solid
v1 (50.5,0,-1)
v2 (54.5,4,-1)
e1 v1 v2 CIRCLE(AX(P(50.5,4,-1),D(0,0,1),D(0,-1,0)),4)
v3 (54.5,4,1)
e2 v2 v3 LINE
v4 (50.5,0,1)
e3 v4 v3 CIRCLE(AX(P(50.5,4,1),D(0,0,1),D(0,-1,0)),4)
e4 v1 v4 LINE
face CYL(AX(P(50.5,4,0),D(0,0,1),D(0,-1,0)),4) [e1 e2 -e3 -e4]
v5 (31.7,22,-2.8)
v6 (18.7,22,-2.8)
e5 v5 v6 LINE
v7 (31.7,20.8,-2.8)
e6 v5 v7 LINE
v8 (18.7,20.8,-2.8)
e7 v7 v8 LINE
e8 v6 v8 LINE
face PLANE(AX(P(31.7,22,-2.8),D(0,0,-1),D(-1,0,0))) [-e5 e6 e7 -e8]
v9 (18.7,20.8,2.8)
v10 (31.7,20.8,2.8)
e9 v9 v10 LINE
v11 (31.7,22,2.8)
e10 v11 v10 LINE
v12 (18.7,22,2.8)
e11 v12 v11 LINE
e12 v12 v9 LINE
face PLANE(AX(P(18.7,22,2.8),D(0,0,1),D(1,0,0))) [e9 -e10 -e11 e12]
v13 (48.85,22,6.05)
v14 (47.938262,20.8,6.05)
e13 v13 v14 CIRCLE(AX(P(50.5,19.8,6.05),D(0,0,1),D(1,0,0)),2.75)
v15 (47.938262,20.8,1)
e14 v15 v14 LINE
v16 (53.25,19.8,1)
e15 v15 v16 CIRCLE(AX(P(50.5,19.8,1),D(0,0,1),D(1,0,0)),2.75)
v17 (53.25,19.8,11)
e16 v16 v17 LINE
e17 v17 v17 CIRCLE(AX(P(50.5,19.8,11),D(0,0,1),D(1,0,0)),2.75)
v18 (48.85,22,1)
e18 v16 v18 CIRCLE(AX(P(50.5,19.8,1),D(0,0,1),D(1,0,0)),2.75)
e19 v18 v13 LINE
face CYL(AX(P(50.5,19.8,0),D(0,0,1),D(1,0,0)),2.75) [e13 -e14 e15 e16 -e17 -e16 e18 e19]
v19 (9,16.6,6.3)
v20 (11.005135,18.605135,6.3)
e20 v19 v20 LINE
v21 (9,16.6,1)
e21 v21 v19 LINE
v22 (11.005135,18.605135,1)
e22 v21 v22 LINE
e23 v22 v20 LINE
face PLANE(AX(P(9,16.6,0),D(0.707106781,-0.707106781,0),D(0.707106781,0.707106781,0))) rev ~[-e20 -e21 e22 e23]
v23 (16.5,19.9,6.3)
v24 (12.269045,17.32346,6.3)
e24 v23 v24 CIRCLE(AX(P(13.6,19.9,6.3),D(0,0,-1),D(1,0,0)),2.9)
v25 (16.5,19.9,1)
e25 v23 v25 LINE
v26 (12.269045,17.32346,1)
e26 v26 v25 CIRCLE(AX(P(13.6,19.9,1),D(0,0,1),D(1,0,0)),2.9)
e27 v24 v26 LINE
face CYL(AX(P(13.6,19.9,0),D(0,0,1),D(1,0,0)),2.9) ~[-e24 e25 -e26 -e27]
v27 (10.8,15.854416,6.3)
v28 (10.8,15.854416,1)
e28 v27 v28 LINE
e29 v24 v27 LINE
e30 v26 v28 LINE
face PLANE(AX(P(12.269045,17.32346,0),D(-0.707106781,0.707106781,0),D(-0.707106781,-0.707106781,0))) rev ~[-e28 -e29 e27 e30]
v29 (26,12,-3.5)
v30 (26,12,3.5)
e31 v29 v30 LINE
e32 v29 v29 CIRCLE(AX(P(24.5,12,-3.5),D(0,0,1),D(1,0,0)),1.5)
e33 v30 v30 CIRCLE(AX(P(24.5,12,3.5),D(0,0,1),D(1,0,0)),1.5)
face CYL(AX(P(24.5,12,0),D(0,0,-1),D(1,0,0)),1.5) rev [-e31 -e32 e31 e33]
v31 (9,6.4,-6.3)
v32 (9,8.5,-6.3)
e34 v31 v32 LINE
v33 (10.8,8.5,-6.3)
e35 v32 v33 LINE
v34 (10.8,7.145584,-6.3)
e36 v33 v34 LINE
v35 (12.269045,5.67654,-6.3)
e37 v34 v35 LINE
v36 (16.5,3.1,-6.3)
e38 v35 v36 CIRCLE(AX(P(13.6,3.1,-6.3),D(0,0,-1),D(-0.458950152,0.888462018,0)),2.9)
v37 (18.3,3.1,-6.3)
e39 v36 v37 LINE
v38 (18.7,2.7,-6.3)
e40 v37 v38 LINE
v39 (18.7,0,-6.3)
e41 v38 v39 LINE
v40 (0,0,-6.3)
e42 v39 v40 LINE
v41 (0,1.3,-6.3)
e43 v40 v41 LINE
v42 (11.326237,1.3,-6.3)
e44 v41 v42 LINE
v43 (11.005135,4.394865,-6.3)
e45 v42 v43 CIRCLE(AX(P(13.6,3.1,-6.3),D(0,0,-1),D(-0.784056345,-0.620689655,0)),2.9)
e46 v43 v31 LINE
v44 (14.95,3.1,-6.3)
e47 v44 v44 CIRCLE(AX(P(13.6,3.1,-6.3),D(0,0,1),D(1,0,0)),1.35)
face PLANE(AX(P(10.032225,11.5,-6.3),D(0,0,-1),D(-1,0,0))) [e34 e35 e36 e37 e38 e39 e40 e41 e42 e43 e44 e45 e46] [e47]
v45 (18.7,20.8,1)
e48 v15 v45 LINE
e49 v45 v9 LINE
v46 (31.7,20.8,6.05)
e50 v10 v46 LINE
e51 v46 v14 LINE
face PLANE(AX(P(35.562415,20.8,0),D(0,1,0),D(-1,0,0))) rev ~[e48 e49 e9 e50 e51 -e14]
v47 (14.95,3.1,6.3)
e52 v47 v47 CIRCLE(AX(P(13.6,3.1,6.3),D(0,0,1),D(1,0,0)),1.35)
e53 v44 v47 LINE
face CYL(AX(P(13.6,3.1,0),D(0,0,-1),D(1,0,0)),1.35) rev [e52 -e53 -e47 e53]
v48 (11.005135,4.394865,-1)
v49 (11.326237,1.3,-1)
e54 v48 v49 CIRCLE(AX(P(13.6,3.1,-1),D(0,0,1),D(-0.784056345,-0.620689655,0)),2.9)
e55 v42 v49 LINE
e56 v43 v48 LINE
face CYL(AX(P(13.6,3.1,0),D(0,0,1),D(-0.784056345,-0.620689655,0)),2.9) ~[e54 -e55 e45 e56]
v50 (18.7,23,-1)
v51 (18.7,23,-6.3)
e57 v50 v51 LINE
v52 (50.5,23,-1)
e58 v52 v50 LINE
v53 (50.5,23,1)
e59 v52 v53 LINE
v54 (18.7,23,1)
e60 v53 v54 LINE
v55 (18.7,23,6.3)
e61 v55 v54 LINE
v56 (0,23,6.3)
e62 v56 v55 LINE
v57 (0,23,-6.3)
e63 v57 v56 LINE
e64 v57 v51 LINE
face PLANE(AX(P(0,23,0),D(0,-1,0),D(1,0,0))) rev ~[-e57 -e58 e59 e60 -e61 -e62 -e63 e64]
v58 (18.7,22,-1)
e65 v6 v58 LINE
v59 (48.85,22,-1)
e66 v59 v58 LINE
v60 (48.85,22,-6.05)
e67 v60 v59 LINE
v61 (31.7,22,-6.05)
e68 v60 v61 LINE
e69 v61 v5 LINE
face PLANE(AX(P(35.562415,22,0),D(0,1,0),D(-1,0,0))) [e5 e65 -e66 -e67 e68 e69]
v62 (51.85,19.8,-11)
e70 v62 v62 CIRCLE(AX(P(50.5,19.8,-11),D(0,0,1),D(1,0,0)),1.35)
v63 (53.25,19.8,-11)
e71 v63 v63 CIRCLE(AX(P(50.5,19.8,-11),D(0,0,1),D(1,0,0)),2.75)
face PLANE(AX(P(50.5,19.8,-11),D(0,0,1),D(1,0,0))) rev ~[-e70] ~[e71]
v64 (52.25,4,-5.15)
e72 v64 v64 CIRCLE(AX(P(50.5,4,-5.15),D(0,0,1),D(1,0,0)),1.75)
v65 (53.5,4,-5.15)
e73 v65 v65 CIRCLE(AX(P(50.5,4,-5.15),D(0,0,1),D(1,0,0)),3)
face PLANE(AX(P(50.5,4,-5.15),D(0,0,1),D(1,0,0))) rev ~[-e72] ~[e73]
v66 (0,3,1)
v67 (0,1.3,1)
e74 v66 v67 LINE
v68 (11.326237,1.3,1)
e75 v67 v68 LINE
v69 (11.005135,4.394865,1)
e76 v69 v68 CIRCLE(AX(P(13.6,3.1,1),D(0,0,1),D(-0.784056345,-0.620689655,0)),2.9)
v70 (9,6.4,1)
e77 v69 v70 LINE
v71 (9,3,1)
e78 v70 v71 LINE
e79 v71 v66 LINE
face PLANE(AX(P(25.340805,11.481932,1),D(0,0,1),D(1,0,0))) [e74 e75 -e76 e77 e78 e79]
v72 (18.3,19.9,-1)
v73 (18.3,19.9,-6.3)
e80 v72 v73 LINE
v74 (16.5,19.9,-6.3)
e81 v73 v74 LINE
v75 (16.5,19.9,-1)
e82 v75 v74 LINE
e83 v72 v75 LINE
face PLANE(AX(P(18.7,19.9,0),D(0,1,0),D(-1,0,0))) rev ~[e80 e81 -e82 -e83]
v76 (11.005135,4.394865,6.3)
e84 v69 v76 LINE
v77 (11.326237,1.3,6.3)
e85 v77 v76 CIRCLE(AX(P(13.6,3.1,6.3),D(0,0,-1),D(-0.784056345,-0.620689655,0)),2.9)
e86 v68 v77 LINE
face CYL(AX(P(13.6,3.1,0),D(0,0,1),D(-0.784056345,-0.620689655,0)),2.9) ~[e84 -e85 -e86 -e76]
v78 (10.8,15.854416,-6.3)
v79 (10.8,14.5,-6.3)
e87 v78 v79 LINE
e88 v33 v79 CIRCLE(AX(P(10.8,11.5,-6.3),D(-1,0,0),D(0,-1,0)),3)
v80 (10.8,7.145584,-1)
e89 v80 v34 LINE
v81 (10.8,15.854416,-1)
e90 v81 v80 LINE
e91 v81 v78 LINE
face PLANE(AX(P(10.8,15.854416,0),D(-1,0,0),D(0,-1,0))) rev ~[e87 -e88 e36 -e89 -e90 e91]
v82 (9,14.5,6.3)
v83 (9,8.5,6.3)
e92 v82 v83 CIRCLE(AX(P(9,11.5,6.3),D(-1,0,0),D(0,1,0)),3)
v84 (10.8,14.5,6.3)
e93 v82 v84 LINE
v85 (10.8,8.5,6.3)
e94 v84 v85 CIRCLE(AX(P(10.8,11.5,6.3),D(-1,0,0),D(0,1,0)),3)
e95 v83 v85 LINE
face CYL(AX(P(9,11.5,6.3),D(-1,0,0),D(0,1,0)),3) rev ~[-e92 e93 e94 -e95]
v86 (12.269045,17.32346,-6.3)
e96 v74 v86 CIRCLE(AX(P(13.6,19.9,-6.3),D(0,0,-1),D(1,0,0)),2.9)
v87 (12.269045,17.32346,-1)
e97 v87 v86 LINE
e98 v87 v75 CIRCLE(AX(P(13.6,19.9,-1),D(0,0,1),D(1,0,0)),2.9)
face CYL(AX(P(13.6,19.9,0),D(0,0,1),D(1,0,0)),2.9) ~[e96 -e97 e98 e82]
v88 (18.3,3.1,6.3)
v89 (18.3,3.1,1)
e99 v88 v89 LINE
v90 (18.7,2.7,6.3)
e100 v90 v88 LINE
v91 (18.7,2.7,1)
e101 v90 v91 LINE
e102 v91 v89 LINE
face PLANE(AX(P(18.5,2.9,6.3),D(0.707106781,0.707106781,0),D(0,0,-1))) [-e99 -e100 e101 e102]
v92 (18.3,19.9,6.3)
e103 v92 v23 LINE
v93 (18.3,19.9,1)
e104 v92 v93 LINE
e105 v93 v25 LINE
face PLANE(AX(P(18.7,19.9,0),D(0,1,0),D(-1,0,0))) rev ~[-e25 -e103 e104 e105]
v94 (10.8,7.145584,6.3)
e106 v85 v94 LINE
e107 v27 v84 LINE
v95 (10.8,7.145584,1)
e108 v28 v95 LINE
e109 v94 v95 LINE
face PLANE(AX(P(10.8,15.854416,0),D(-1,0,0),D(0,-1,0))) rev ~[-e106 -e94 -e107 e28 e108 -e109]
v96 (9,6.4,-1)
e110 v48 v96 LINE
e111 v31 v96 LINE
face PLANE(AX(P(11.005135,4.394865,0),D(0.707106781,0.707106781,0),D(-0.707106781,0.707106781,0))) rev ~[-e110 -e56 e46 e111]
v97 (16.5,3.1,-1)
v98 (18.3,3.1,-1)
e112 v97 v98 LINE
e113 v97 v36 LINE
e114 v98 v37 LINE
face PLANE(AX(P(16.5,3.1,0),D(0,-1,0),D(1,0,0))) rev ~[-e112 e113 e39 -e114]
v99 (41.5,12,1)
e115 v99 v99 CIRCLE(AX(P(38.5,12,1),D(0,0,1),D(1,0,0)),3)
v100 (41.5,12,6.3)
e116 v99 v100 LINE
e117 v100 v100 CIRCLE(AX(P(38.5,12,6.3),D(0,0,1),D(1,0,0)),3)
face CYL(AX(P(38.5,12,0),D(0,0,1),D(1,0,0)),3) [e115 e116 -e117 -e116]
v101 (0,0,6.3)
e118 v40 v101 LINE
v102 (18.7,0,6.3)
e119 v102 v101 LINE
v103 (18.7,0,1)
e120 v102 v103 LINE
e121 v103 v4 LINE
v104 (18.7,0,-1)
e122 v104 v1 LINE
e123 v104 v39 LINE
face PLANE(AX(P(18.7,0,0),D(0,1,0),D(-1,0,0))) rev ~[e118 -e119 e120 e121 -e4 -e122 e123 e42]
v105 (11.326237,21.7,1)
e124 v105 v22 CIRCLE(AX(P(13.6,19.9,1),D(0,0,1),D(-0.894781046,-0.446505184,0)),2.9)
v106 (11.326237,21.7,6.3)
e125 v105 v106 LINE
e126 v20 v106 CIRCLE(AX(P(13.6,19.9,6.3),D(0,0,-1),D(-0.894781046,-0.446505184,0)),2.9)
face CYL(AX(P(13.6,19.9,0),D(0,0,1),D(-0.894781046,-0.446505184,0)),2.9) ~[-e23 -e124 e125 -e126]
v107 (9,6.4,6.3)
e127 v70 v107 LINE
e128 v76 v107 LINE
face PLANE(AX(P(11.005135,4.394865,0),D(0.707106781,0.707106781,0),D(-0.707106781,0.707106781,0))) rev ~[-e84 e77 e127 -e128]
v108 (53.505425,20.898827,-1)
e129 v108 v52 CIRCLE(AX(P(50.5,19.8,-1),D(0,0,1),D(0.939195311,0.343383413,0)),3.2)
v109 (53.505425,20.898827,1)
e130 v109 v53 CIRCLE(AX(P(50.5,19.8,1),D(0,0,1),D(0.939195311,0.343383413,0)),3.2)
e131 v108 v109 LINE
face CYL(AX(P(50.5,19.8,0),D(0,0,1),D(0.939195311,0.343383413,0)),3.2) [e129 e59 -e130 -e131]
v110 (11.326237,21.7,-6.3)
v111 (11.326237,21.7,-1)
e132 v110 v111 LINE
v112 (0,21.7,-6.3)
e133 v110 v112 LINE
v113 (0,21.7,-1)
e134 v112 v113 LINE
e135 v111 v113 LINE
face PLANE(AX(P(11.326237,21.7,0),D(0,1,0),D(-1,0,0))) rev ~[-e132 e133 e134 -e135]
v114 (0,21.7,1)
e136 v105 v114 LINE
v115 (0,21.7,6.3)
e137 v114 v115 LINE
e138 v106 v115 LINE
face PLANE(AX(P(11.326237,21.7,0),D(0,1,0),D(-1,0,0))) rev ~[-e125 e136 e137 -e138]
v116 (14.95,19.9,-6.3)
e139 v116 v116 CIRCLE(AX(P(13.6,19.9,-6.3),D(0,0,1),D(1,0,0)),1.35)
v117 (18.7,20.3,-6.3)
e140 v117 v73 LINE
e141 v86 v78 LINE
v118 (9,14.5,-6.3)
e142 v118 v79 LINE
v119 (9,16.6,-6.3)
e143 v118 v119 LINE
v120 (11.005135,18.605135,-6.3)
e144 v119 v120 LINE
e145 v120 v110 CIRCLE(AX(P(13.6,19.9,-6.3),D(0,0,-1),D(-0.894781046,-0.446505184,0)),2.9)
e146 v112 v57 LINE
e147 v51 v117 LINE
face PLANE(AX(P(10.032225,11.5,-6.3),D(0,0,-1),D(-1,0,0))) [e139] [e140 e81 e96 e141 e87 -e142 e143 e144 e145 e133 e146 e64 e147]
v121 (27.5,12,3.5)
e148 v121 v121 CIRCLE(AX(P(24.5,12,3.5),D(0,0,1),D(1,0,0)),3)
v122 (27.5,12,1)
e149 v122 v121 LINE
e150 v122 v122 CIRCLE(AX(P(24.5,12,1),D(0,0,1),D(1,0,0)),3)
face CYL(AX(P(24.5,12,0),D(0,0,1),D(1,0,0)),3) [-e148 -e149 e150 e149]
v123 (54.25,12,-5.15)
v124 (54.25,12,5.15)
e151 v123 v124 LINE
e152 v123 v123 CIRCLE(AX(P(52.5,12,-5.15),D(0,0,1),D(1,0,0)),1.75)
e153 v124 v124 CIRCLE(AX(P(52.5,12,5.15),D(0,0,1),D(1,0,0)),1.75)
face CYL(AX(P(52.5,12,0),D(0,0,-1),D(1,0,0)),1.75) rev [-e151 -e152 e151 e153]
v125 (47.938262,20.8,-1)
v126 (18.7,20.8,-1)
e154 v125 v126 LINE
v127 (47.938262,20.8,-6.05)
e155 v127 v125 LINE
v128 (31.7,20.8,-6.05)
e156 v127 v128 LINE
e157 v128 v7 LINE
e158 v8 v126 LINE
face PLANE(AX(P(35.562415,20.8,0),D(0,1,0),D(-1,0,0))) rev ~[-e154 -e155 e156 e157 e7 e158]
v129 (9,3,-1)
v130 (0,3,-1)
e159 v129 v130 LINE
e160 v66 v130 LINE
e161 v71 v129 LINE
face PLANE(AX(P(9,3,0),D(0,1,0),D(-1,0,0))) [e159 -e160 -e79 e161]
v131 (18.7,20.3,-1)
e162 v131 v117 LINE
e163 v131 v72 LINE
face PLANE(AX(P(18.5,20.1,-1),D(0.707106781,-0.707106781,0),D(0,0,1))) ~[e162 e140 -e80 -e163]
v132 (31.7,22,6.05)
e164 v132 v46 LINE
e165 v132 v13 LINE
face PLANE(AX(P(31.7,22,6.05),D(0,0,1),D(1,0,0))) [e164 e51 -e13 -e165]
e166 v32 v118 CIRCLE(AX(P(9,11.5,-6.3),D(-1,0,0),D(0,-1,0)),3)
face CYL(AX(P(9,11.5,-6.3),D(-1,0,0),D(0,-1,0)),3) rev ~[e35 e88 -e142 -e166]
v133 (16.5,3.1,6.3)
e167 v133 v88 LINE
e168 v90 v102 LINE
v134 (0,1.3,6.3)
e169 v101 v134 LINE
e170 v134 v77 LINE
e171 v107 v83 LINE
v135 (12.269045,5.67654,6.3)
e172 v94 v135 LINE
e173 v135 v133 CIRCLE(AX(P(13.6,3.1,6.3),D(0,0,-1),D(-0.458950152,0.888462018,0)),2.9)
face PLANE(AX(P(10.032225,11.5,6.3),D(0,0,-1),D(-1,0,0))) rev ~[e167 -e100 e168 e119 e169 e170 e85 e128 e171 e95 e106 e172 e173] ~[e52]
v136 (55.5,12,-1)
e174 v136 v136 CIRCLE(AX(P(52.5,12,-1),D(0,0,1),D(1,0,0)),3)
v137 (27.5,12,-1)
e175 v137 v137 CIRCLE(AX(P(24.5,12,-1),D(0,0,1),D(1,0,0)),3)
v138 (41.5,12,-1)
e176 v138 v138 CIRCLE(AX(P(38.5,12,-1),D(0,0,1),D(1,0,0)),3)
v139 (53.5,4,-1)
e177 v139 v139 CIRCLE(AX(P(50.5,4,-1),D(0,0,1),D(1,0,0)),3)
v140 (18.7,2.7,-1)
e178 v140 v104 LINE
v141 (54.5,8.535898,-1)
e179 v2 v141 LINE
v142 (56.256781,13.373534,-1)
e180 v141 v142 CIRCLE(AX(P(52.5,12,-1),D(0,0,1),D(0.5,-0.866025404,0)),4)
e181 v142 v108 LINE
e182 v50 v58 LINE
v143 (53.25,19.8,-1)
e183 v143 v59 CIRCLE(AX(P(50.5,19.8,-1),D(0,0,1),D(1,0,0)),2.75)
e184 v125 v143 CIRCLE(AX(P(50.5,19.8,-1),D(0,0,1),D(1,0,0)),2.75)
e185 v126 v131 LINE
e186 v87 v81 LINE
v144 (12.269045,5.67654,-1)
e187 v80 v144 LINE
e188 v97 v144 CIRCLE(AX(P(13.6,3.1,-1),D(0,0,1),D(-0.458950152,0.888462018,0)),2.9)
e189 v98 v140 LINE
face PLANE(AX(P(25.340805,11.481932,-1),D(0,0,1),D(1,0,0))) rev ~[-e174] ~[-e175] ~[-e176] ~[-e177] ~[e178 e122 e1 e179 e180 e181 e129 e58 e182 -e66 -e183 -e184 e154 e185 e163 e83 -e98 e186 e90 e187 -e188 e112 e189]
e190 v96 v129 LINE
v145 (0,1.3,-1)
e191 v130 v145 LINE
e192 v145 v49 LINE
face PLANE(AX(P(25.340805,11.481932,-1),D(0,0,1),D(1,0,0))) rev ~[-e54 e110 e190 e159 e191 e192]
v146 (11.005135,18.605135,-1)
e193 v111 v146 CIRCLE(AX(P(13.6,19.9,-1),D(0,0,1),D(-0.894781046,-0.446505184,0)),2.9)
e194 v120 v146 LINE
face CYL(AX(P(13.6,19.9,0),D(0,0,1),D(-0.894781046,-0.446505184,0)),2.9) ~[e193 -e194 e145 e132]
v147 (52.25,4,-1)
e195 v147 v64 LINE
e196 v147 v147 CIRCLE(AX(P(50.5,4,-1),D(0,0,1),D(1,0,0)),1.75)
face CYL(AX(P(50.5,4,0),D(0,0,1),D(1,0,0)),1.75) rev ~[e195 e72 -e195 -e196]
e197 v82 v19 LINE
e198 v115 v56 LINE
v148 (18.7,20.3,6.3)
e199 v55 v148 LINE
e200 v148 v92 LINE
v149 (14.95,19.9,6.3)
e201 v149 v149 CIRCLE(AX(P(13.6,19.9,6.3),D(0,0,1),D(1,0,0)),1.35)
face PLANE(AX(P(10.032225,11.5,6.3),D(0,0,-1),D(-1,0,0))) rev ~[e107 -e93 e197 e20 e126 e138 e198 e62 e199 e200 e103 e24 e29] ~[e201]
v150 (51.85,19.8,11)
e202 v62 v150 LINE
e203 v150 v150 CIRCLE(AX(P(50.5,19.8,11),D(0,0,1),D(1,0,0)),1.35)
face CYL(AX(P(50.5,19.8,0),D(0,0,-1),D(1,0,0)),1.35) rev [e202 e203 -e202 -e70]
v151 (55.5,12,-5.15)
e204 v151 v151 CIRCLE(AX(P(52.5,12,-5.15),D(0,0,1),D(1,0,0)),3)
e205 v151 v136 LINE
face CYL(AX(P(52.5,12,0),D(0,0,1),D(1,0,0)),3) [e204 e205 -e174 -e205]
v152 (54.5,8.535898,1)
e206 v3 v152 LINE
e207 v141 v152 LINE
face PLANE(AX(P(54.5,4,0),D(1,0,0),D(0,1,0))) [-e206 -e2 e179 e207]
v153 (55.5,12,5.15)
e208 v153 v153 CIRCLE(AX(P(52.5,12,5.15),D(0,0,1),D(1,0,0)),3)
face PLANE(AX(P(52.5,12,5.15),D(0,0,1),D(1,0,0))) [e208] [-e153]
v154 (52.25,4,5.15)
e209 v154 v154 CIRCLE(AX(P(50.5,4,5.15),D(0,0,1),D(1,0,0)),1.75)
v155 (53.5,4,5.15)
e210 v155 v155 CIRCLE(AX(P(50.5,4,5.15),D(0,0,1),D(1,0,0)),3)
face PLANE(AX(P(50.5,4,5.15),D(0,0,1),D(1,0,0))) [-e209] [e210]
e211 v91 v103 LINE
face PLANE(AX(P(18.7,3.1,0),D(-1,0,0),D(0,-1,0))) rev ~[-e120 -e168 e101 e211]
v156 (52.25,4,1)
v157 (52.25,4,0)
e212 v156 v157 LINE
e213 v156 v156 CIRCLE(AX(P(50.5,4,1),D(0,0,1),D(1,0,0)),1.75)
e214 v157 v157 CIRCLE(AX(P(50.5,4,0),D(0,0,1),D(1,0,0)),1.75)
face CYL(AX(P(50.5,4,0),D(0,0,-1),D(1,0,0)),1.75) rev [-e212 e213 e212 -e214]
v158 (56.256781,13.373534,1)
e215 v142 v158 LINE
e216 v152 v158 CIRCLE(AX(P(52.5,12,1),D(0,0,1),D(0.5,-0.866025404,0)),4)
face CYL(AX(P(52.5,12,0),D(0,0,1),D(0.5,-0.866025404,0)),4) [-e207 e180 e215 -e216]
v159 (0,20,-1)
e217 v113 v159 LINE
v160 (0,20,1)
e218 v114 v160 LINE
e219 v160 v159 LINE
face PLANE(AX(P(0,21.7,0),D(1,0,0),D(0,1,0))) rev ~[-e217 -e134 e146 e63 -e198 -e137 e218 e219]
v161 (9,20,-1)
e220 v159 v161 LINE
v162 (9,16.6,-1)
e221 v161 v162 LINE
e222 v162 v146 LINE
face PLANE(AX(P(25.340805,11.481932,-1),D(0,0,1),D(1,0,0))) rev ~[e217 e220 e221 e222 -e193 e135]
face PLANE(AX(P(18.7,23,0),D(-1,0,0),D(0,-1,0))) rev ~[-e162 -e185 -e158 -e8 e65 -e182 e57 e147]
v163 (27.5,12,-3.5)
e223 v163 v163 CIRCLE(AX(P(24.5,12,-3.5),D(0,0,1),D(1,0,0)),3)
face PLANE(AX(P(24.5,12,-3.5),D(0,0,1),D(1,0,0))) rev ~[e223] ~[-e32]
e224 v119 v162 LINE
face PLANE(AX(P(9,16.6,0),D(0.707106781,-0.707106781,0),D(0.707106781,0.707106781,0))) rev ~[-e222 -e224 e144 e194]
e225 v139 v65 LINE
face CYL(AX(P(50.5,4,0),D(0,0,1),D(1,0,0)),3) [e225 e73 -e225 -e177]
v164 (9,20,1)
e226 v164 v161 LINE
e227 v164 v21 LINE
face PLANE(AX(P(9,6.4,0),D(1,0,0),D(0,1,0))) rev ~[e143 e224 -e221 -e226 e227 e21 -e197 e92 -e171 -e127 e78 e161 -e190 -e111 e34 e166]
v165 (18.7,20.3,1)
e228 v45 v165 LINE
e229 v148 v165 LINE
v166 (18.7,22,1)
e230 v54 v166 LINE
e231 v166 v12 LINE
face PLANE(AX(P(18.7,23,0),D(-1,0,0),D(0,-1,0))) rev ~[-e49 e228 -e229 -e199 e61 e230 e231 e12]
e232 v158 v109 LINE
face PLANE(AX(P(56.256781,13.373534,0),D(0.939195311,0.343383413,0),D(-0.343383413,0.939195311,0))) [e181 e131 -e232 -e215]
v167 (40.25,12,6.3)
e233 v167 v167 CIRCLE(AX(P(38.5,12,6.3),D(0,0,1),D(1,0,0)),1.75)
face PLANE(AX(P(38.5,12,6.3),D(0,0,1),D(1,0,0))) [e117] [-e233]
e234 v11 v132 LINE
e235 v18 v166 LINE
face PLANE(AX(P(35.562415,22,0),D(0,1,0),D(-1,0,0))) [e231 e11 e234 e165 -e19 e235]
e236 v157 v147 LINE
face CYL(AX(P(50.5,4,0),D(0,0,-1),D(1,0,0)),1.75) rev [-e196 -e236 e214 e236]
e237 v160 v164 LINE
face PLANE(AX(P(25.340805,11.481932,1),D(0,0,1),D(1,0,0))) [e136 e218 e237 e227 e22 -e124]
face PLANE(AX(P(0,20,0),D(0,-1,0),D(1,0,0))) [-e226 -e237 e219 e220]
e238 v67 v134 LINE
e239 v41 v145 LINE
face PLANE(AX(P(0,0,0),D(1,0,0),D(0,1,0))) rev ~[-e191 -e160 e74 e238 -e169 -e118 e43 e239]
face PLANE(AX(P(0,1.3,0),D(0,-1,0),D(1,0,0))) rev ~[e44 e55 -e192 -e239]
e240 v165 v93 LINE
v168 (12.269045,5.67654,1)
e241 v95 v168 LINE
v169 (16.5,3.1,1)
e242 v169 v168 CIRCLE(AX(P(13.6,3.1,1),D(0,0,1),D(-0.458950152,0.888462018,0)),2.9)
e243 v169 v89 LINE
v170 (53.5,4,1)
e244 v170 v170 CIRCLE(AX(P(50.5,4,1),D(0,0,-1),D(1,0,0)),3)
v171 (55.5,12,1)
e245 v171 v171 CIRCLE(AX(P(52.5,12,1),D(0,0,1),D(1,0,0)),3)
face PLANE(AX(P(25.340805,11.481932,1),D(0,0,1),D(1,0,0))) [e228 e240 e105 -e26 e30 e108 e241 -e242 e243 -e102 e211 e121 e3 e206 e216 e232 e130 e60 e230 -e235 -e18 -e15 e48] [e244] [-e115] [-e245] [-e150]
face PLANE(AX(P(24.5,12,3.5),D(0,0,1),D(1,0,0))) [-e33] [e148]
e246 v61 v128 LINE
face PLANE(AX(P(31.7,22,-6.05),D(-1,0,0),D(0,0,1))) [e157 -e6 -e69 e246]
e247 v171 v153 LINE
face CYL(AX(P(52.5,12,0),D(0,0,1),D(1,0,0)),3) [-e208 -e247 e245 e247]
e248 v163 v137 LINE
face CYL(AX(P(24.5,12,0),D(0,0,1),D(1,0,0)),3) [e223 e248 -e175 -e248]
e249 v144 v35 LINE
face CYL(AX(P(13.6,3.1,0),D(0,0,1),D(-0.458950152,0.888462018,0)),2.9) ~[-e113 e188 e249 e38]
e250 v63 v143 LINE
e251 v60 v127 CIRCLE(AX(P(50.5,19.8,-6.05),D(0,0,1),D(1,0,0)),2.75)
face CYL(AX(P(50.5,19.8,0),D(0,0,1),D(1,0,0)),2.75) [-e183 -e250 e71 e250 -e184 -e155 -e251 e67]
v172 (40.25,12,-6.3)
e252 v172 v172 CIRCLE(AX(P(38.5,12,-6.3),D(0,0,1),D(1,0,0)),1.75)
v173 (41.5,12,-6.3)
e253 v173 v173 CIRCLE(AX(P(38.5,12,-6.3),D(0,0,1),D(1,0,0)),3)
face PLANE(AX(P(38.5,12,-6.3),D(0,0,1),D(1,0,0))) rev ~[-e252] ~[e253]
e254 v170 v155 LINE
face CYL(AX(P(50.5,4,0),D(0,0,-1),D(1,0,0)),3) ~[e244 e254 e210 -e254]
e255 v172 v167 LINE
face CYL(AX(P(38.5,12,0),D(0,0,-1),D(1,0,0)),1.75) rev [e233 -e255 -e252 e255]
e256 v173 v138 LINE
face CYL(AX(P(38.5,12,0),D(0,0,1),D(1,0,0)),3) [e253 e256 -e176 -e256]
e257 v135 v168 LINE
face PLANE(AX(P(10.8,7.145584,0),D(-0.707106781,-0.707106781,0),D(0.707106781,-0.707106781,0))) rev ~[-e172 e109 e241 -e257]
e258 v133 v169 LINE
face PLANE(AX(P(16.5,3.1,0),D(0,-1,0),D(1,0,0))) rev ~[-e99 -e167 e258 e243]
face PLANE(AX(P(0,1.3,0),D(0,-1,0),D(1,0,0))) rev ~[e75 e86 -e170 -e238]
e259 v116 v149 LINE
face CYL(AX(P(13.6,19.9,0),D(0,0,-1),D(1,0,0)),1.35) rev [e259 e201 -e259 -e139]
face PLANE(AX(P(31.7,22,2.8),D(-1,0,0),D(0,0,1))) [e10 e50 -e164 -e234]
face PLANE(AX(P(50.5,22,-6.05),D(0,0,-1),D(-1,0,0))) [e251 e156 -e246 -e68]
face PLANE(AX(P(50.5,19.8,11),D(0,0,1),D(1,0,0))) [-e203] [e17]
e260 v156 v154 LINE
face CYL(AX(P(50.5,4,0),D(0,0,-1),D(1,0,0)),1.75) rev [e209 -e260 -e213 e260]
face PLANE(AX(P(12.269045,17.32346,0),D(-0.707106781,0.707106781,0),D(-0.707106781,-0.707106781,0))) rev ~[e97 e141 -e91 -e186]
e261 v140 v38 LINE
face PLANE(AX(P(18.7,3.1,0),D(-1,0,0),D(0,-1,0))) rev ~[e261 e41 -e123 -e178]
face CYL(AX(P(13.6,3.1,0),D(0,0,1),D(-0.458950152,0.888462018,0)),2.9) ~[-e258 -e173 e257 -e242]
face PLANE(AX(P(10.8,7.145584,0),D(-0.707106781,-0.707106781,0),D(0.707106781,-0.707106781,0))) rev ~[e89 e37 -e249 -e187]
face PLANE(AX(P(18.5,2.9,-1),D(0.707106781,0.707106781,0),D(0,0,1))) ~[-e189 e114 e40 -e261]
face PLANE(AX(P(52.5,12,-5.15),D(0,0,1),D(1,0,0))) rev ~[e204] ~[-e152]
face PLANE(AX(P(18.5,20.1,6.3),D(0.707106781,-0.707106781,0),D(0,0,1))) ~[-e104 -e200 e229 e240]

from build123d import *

# Parameters (mm, degrees)
SKETCH2_R           = 1.35
SKETCH2_R_2         = 1.5
SKETCH2_R_3         = 1.75
BOSS_EXTRUDE1_DEPTH = 1
SKETCH3_R           = 3
SKETCH3_R_2         = 1.75
BOSS_EXTRUDE2_DEPTH = 5.15
SKETCH4_R           = 3
SKETCH4_R_2         = 1.75
BOSS_EXTRUDE3_DEPTH = 6.3
SKETCH5_R           = 3
SKETCH5_R_2         = 1.5
BOSS_EXTRUDE4_DEPTH = 3.5
SKETCH6_R           = 2.75
SKETCH6_R_2         = 1.35
BOSS_EXTRUDE5_DEPTH = 11
SKETCH7_R           = 1.35
BOSS_EXTRUDE6_DEPTH = 6.3
BOSS_EXTRUDE7_DEPTH = 1.2
SKETCH9_R           = 1.35
CUT_EXTRUDE1_DEPTH  = 23
CUT_EXTRUDE2_REACH  = 49.5
CHAMFER2_SIZE       = 0.4


with BuildPart() as part:
    # Sketch2 → Boss-Extrude1 (new body, symmetric)
    with BuildSketch(Plane.XY):
        with BuildLine():
            Line((0, 0), (50.5, 0))
            ThreePointArc((50.5, 0), (53.328427125, 1.171572875), (54.5, 4))
            Line((54.5, 4), (54.5, 8.535898385))
            ThreePointArc((54.5, 8.535898385), (56.259762135, 10.634647047), (56.256781243, 13.373533652))
            Line((56.256781243, 13.373533652), (53.505424994, 20.898826922))
            ThreePointArc((53.505424994, 20.898826922), (52.33354218, 22.4226176), (50.5, 23))
            Line((50.5, 23), (0, 23))
            Line((0, 23), (0, 20))
            Line((0, 20), (9, 20))
            Line((9, 20), (9, 3))
            Line((9, 3), (0, 3))
            Line((0, 3), (0, 0))
        make_face()
        with Locations((13.6, 3.1)):
            Circle(SKETCH2_R, mode=Mode.SUBTRACT)
        with Locations((24.5, 12)):
            Circle(SKETCH2_R_2, mode=Mode.SUBTRACT)
        with Locations((38.5, 12)):
            Circle(SKETCH2_R_3, mode=Mode.SUBTRACT)
        with Locations((52.5, 12)):
            Circle(SKETCH2_R_3, mode=Mode.SUBTRACT)
        with Locations((50.5, 4)):
            Circle(SKETCH2_R_3, mode=Mode.SUBTRACT)
        with Locations((50.5, 19.8)):
            Circle(SKETCH2_R, mode=Mode.SUBTRACT)
        with Locations((13.6, 19.9)):
            Circle(SKETCH2_R, mode=Mode.SUBTRACT)
    extrude(amount=BOSS_EXTRUDE1_DEPTH, both=True)

    # Sketch3 → Boss-Extrude2 (add, symmetric)
    with BuildSketch(Plane.XY):
        with Locations((50.5, 4)):
            Circle(SKETCH3_R)
        with Locations((50.5, 4)):
            Circle(SKETCH3_R_2, mode=Mode.SUBTRACT)
        with Locations((52.5, 12)):
            Circle(SKETCH3_R)
        with Locations((52.5, 12)):
            Circle(SKETCH3_R_2, mode=Mode.SUBTRACT)
    extrude(amount=BOSS_EXTRUDE2_DEPTH, both=True)

    # Sketch4 → Boss-Extrude3 (add, symmetric)
    with BuildSketch(Plane.XY):
        with Locations((38.5, 12)):
            Circle(SKETCH4_R)
        with Locations((38.5, 12)):
            Circle(SKETCH4_R_2, mode=Mode.SUBTRACT)
    extrude(amount=BOSS_EXTRUDE3_DEPTH, both=True)

    # Sketch5 → Boss-Extrude4 (add, symmetric)
    with BuildSketch(Plane.XY):
        with Locations((24.5, 12)):
            Circle(SKETCH5_R)
        with Locations((24.5, 12)):
            Circle(SKETCH5_R_2, mode=Mode.SUBTRACT)
    extrude(amount=BOSS_EXTRUDE4_DEPTH, both=True)

    # Sketch6 → Boss-Extrude5 (add, symmetric)
    with BuildSketch(Plane.XY):
        with Locations((50.5, 19.8)):
            Circle(SKETCH6_R)
        with Locations((50.5, 19.8)):
            Circle(SKETCH6_R_2, mode=Mode.SUBTRACT)
    extrude(amount=BOSS_EXTRUDE5_DEPTH, both=True)

    # Sketch7 → Boss-Extrude6 (add, symmetric)
    with BuildSketch(Plane.XY):
        with BuildLine():
            Line((0, 23), (18.7, 23))
            Line((18.7, 23), (18.7, 19.9))
            Line((18.7, 19.9), (16.5, 19.9))
            ThreePointArc((16.5, 19.9), (15.108348306, 17.423129921), (12.269044559, 17.323460147))
            Line((12.269044559, 17.323460147), (10.8, 15.854415588))
            Line((10.8, 15.854415588), (10.8, 11.5))
            Line((10.8, 11.5), (10.8, 7.145584412))
            Line((10.8, 7.145584412), (12.269044559, 5.676539853))
            ThreePointArc((12.269044559, 5.676539853), (15.108348306, 5.576870079), (16.5, 3.1))
            Line((16.5, 3.1), (18.7, 3.1))
            Line((18.7, 3.1), (18.7, 0))
            Line((18.7, 0), (0, 0))
            Line((0, 0), (0, 1.3))
            Line((0, 1.3), (11.3262366, 1.3))
            ThreePointArc((11.3262366, 1.3), (10.715483905, 2.800722707), (11.005134966, 4.394865034))
            Line((11.005134966, 4.394865034), (9, 6.4))
            Line((9, 6.4), (9, 11.5))
            Line((9, 11.5), (9, 16.6))
            Line((9, 16.6), (11.005134966, 18.605134966))
            ThreePointArc((11.005134966, 18.605134966), (10.715483905, 20.199277293), (11.3262366, 21.7))
            Line((11.3262366, 21.7), (0, 21.7))
            Line((0, 21.7), (0, 23))
        make_face()
        with Locations((13.6, 3.1)):
            Circle(SKETCH7_R, mode=Mode.SUBTRACT)
        with Locations((13.6, 19.9)):
            Circle(SKETCH7_R, mode=Mode.SUBTRACT)
    extrude(amount=BOSS_EXTRUDE6_DEPTH, both=True)

    # Sketch8 → Boss-Extrude7 (add)
    with BuildSketch(Plane(origin=(0, 22, 0), x_dir=(-1, 0, 0), z_dir=(0, 1, 0))):
        Polygon((-18.7, -2.8), (-18.7, 2.8), (-31.7, 2.8), (-31.7, 6.05), (-50.5, 6.05), (-50.5, -6.05), (-31.7, -6.05), (-31.7, -2.8), align=None)
    extrude(amount=-BOSS_EXTRUDE7_DEPTH)

    # Sketch9 → Cut-Extrude1 (cut, through all)
    with BuildSketch(Plane(origin=(0, 0, -11), x_dir=(-1, 0, 0), z_dir=(0, 0, -1))):
        with Locations((-50.5, 19.8)):
            Circle(SKETCH9_R)
    extrude(amount=-CUT_EXTRUDE1_DEPTH, mode=Mode.SUBTRACT)

    # Sketch10 → Cut-Extrude2 (cut, up to next)
    with BuildSketch(Plane.ZY.offset(-9), mode=Mode.PRIVATE) as cut_extrude2_sk1:
        with BuildLine():
            Line((-6.3, 14.5), (-6.3, 8.5))
            ThreePointArc((-6.3, 8.5), (-3.3, 11.5), (-6.3, 14.5))
        make_face()
    cut_extrude2_tool1 = extrude(cut_extrude2_sk1.sketch, amount=-CUT_EXTRUDE2_REACH, mode=Mode.PRIVATE) & part.part
    add(cut_extrude2_tool1.solids().sort_by_distance((9, 11.5, -5.02676))[0], mode=Mode.SUBTRACT)
    # Sketch10 → Cut-Extrude2 (cut, up to next)
    with BuildSketch(Plane.ZY.offset(-9), mode=Mode.PRIVATE) as cut_extrude2_sk2:
        with BuildLine():
            Line((6.3, 8.5), (6.3, 14.5))
            ThreePointArc((6.3, 14.5), (3.3, 11.5), (6.3, 8.5))
        make_face()
    cut_extrude2_tool2 = extrude(cut_extrude2_sk2.sketch, amount=-CUT_EXTRUDE2_REACH, mode=Mode.PRIVATE) & part.part
    add(cut_extrude2_tool2.solids().sort_by_distance((9, 11.5, 5.02676))[0], mode=Mode.SUBTRACT)

    # Chamfer2
    chamfer2_edges = [part.edges().sort_by_distance(p)[0] for p in [
        (18.7, 3.1, -3.65),
        (18.7, 19.9, -3.65),
        (18.7, 3.1, 3.65),
        (18.7, 19.9, 3.65),
    ]]
    chamfer(chamfer2_edges, length=CHAMFER2_SIZE)


solid = part.part
